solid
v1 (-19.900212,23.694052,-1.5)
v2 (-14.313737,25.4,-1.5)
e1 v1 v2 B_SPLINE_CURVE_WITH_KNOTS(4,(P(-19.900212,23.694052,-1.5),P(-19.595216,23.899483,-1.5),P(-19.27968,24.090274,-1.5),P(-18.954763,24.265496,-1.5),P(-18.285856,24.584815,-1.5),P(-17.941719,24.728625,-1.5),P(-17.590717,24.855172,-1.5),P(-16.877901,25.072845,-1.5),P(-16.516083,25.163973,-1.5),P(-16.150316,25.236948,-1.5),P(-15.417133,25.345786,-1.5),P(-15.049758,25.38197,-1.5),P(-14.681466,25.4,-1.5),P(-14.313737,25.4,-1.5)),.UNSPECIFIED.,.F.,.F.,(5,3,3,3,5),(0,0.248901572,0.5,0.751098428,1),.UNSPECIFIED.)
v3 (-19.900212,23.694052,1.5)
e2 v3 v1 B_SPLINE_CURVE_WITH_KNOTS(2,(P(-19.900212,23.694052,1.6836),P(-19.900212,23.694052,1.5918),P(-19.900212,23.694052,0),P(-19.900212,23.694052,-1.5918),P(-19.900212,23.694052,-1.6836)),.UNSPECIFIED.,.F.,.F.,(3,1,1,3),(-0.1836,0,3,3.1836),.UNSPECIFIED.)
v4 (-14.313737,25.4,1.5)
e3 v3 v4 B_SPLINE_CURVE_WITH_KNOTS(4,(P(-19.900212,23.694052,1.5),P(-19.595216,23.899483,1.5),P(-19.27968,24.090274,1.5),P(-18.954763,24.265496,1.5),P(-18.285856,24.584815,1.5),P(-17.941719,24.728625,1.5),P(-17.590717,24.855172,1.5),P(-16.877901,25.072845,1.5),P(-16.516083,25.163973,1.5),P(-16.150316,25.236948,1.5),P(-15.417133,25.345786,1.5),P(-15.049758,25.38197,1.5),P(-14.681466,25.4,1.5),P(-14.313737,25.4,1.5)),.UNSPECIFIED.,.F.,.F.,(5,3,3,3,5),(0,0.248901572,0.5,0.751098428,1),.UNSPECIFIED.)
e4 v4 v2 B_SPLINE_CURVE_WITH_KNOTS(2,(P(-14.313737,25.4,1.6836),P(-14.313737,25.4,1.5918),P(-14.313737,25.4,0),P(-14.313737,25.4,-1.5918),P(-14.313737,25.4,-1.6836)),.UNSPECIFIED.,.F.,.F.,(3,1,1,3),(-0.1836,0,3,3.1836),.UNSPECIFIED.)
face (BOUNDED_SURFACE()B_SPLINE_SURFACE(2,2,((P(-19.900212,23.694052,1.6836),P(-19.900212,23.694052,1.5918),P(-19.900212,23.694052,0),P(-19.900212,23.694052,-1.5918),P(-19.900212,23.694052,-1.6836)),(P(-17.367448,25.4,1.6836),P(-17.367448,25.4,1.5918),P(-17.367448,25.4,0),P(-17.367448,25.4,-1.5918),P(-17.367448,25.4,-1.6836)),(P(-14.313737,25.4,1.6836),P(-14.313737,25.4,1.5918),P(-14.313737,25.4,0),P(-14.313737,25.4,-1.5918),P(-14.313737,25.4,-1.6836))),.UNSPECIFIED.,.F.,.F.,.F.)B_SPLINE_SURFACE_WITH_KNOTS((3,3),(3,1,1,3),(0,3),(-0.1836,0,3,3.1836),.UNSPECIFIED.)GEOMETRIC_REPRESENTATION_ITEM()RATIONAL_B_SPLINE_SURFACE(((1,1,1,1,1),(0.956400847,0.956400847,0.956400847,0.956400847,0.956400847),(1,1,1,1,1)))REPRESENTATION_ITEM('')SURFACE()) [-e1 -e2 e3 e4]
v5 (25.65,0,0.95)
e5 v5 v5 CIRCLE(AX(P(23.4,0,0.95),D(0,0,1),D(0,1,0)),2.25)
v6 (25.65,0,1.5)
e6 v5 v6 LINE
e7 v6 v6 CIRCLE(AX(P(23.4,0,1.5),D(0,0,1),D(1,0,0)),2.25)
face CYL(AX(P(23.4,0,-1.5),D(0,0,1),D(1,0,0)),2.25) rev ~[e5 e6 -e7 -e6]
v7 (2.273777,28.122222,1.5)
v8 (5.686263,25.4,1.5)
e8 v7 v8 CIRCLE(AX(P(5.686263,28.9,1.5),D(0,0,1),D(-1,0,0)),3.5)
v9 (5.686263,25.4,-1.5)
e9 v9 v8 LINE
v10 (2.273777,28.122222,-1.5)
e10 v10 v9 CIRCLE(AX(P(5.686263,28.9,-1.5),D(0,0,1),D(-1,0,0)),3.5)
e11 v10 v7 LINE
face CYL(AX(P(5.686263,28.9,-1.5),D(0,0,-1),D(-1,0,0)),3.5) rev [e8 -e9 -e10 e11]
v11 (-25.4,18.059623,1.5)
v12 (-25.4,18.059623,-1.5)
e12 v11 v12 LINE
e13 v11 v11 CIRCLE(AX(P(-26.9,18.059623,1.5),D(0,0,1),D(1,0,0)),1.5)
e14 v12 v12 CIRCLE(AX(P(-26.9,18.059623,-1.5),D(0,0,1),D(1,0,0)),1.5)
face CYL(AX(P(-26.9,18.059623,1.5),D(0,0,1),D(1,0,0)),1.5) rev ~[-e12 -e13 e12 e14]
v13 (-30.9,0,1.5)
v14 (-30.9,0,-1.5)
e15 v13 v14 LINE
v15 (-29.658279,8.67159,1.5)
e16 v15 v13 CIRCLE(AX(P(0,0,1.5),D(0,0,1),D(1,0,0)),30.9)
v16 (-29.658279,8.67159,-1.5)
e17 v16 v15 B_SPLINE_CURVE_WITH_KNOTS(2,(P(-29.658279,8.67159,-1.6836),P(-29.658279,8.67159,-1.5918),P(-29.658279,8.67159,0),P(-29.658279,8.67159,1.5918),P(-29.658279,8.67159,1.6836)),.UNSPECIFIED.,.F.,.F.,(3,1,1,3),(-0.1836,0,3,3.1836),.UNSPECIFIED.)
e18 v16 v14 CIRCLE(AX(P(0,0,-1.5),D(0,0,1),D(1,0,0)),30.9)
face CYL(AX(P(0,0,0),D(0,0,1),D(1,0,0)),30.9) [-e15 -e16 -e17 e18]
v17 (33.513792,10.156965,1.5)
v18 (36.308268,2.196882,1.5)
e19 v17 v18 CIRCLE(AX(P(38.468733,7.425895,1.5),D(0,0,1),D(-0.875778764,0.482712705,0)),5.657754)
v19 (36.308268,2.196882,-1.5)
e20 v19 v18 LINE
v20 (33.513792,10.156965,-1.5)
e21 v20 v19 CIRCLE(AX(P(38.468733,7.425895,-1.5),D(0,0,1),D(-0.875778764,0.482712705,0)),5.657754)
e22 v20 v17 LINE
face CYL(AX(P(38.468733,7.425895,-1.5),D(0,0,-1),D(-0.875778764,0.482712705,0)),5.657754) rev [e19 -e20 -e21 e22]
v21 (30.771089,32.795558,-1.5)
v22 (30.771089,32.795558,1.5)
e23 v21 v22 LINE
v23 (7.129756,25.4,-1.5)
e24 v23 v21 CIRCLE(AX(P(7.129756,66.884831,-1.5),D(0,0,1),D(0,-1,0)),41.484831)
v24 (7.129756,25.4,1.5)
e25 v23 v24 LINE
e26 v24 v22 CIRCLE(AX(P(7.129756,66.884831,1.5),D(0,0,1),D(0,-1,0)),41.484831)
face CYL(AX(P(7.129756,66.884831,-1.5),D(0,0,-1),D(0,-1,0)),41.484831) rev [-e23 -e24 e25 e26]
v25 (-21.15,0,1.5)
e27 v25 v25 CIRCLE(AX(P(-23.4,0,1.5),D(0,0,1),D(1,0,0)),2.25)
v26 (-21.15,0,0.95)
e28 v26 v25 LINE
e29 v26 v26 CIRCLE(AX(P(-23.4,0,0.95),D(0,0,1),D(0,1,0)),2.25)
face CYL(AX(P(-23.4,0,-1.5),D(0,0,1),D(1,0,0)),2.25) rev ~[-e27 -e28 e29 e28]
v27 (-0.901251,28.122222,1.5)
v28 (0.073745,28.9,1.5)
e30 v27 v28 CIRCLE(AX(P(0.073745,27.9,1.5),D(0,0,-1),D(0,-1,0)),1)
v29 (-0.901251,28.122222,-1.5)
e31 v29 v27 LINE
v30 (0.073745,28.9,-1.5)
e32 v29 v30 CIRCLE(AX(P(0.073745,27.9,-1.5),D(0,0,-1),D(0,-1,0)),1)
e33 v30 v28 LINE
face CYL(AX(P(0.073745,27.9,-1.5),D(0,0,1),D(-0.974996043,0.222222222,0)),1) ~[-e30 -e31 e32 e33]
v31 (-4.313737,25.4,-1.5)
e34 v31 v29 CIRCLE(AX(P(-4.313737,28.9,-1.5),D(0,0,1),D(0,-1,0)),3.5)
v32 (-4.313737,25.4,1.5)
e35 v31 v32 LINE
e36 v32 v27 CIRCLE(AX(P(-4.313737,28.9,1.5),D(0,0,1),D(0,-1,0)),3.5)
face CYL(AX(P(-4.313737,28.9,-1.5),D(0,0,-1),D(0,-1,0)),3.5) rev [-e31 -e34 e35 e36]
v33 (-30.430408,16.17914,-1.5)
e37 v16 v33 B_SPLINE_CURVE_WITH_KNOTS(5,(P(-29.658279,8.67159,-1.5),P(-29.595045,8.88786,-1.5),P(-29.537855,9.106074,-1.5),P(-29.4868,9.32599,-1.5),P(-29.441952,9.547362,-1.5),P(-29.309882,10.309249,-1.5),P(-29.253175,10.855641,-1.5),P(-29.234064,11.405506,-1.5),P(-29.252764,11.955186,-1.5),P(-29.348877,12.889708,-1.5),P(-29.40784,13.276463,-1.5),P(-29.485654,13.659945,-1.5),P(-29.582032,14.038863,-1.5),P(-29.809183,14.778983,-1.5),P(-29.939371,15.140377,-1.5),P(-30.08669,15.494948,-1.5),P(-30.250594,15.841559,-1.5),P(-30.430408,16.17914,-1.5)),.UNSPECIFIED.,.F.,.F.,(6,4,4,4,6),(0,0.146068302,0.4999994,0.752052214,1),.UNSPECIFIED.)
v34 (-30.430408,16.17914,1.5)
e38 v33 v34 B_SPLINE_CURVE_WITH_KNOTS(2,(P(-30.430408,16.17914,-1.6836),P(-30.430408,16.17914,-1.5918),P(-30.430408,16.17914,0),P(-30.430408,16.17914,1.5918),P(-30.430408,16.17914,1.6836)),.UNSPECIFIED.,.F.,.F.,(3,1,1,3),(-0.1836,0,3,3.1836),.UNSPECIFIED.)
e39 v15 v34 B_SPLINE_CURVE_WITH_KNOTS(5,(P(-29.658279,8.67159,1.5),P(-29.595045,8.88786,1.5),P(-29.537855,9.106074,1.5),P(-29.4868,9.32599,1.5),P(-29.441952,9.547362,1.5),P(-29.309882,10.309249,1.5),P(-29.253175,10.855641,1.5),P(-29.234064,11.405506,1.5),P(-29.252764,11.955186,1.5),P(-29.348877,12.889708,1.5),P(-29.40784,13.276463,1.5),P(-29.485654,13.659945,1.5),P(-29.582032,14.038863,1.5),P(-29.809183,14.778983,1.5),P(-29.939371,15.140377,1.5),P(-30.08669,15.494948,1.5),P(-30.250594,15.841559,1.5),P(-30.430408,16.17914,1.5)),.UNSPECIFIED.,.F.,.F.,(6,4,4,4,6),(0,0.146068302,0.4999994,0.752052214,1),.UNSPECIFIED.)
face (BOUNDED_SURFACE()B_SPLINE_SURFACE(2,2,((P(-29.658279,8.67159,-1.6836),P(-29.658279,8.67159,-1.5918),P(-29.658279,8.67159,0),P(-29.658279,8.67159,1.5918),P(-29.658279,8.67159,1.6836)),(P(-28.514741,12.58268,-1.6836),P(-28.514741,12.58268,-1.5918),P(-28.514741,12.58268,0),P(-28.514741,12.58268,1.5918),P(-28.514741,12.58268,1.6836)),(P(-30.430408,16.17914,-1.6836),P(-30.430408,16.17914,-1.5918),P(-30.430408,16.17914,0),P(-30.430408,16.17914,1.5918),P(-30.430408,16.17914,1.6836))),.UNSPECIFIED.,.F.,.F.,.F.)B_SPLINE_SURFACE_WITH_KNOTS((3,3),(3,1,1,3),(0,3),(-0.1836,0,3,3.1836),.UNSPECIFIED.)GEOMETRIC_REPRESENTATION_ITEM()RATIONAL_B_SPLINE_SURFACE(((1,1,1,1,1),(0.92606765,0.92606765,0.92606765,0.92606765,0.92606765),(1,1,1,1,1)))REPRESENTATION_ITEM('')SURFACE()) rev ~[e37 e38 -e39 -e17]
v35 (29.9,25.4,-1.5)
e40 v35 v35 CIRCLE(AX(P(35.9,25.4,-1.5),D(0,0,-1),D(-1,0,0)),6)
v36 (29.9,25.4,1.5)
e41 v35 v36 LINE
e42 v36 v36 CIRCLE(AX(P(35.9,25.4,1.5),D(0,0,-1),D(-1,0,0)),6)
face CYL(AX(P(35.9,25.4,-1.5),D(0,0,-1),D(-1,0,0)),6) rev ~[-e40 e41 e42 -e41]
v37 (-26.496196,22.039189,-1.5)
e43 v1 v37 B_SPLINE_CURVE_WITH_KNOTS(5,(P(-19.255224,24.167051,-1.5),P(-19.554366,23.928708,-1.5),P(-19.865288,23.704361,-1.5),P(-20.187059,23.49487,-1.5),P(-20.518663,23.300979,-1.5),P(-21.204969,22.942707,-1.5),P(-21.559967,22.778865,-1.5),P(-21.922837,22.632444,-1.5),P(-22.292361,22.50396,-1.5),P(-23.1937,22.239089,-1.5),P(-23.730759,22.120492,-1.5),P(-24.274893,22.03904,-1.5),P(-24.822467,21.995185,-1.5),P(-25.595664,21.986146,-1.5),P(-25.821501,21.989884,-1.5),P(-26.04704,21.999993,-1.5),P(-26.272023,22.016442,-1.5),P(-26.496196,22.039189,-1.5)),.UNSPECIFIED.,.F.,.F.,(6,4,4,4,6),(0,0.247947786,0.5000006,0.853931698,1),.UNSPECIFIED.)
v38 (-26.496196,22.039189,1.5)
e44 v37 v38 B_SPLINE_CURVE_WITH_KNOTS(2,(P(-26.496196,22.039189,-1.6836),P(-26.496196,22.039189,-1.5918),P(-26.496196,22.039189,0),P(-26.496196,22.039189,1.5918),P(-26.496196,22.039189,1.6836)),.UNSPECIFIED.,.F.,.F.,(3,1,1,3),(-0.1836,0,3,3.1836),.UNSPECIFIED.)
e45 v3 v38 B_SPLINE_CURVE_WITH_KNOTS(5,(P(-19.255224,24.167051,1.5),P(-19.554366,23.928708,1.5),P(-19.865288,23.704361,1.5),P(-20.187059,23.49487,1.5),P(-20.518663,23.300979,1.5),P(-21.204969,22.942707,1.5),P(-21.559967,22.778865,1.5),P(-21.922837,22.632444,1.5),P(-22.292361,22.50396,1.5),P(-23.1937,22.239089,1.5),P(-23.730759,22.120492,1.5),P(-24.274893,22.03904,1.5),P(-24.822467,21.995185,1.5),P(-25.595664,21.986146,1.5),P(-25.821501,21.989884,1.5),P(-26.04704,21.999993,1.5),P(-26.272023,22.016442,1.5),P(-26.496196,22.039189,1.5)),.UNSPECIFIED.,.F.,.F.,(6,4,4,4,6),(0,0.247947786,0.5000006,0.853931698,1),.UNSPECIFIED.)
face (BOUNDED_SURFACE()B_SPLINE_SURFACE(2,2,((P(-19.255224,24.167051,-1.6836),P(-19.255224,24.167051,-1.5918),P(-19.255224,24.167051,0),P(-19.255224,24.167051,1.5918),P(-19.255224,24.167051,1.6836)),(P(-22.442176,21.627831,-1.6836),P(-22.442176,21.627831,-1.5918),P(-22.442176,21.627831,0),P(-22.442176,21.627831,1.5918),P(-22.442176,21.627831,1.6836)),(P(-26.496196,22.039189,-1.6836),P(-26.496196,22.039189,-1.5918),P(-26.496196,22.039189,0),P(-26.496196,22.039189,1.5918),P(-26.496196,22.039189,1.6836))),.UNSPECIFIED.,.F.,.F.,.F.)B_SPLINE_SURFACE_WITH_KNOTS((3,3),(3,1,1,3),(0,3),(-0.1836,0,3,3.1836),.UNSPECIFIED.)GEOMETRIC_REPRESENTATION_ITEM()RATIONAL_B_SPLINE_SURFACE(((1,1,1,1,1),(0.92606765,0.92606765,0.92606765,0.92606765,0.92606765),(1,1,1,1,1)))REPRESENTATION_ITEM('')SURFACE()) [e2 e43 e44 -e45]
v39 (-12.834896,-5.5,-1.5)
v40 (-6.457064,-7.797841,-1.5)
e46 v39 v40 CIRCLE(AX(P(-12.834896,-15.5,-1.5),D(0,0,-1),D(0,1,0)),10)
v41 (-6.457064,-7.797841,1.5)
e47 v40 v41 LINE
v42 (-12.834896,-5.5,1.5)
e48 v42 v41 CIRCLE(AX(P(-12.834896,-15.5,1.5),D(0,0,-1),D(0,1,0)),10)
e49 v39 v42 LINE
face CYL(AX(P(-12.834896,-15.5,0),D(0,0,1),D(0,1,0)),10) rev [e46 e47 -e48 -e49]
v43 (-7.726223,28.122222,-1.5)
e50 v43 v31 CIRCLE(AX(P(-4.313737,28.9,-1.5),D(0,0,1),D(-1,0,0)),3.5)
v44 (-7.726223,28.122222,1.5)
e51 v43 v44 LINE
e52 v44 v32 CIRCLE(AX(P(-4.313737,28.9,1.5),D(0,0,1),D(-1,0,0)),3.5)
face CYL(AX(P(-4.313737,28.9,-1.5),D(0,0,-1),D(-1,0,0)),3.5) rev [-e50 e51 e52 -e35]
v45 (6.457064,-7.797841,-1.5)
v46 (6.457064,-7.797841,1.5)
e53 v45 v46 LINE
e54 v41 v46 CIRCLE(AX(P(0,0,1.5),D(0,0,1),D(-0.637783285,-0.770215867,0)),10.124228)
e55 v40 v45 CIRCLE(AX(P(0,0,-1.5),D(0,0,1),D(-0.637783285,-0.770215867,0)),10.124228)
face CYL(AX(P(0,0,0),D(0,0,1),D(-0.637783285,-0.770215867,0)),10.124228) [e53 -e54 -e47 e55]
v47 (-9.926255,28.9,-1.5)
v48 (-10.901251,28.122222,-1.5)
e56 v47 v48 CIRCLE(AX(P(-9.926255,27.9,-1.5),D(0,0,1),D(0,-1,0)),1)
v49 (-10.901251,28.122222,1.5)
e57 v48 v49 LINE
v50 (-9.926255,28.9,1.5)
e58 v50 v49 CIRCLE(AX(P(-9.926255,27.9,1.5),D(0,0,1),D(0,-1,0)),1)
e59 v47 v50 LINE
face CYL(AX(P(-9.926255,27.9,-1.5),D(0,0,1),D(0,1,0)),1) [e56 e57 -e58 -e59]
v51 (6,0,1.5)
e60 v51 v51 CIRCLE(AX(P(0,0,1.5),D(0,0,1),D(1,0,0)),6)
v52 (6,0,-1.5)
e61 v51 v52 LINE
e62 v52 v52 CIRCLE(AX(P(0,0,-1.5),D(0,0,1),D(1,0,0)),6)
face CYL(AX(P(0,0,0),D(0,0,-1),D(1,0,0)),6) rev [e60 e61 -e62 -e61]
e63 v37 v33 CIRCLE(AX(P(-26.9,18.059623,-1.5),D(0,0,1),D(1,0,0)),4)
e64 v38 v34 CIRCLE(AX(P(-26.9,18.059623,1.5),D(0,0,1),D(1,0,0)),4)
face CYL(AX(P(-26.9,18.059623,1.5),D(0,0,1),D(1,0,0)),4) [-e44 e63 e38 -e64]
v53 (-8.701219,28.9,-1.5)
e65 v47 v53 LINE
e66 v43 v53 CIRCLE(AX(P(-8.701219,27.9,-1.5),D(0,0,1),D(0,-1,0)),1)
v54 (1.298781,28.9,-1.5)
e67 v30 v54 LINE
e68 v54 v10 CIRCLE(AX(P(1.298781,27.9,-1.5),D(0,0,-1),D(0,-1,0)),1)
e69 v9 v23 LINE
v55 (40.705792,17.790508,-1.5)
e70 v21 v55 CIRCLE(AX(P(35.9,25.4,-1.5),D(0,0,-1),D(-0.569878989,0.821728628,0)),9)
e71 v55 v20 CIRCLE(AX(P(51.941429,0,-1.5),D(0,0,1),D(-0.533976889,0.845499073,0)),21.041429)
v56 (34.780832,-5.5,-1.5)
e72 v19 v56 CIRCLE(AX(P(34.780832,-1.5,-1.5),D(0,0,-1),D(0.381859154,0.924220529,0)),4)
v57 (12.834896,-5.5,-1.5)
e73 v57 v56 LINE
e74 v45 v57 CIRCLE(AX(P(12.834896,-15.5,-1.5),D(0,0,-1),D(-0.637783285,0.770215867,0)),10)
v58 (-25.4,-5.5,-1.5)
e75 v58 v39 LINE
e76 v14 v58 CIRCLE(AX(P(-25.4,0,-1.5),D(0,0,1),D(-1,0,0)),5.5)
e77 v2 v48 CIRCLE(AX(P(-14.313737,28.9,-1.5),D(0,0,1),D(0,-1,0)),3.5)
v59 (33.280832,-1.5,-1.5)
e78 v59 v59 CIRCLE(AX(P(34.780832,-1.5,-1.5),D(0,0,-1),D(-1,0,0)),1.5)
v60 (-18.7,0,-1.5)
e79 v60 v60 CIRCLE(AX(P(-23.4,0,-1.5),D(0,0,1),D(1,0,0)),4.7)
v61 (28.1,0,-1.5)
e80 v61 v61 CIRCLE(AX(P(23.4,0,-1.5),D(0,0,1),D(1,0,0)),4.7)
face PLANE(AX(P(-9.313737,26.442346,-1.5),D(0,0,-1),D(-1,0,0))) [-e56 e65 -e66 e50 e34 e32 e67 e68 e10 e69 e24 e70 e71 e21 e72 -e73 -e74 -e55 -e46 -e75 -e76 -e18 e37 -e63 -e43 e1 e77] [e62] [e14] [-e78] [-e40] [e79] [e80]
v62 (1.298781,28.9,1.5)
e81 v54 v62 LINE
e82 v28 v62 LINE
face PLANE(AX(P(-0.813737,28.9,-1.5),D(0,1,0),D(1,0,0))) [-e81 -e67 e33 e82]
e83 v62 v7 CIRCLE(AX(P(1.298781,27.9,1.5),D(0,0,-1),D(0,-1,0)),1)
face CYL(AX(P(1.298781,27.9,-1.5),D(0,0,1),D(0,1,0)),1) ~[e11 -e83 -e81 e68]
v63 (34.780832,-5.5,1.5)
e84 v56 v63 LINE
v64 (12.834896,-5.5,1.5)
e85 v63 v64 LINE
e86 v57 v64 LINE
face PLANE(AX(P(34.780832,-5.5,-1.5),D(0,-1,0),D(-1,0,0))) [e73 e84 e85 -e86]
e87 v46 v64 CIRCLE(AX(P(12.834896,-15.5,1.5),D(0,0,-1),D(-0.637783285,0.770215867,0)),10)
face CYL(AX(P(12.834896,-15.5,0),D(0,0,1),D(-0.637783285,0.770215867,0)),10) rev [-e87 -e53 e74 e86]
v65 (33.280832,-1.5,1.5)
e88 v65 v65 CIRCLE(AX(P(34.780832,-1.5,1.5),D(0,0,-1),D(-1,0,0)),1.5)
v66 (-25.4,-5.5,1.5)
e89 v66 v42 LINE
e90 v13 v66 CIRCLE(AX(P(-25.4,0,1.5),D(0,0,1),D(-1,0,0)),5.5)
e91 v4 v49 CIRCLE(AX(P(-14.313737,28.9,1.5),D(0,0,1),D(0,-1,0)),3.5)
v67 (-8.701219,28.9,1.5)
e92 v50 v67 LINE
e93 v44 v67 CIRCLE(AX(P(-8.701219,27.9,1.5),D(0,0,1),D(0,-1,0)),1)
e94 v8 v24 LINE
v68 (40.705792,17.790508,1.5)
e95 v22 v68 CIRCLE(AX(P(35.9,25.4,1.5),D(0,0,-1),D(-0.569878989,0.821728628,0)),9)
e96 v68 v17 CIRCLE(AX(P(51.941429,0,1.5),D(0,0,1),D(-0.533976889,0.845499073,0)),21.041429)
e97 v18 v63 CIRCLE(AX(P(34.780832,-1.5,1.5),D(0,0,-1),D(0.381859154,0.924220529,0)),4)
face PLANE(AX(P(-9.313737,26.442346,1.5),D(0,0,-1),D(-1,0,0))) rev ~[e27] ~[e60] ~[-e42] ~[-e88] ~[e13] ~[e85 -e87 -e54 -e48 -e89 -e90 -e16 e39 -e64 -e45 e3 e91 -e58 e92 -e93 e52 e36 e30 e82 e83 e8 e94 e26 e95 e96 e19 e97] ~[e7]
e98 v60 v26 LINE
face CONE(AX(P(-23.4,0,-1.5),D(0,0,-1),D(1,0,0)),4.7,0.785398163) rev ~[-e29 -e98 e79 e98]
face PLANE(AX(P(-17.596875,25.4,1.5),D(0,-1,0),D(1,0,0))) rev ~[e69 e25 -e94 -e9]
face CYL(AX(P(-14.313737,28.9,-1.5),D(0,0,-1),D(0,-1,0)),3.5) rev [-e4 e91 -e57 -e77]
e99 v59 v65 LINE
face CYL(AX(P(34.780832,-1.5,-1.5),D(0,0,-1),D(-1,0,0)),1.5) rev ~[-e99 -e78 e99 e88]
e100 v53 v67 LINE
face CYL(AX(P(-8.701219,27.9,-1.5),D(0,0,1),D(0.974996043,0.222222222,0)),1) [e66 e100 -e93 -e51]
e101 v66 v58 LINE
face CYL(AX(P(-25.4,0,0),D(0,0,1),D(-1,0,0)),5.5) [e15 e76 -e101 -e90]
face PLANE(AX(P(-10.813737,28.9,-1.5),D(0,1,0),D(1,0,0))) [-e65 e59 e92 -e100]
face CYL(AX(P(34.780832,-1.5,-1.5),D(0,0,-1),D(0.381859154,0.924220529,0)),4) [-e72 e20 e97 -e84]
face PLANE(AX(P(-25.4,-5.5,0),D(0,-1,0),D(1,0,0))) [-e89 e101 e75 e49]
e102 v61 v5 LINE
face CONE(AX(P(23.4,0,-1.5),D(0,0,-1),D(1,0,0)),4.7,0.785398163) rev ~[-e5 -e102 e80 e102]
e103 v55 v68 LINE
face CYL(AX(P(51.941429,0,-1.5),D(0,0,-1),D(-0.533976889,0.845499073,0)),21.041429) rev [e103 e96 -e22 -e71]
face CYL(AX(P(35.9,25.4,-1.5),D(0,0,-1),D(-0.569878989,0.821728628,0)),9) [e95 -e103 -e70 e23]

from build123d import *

# Parameters (mm, degrees)
SKETCH1_R                                           = 6
BOSS_EXTRUDE1_DEPTH                                 = 1.5
SKETCH2_R                                           = 4
SKETCH2_R_2                                         = 1.5
BOSS_EXTRUDE2_DEPTH                                 = 3
FILLET1_R                                           = 10
CSK_FOR_M4_COUNTERSUNK_FLAT_HEAD_SCREW1_D           = 4.5
CSK_FOR_M4_COUNTERSUNK_FLAT_HEAD_SCREW1_DEPTH       = 7.5
CSK_FOR_M4_COUNTERSUNK_FLAT_HEAD_SCREW1_CSINK_D     = 9.4
CSK_FOR_M4_COUNTERSUNK_FLAT_HEAD_SCREW1_CSINK_ANGLE = 90
CSK_FOR_M4_COUNTERSUNK_FLAT_HEAD_SCREW1_TIP         = 1.351936393
CUT_EXTRUDE1_DEPTH                                  = 44.802054894
FILLET2_R                                           = 10
SKETCH7_R                                           = 6
BOSS_EXTRUDE6_DEPTH                                 = 3
SKETCH10_R                                          = 1.5
BOSS_EXTRUDE7_DEPTH                                 = 3
BOSS_EXTRUDE8_DEPTH                                 = 3
FILLET3_R                                           = 1


with BuildPart() as part:
    # Sketch1 → Boss-Extrude1 (new, symmetric)
    with BuildSketch(Plane.XY):
        with BuildLine():
            Line((-25.4, -5.5), (-12.834896467, -5.5))
            ThreePointArc((-12.834896467, -5.5), (-9.445323242, -6.091982496), (-6.457063621, -7.797841329))
            ThreePointArc((-6.457063621, -7.797841329), (0, -10.124228366), (6.457063621, -7.797841329))
            ThreePointArc((6.457063621, -7.797841329), (9.445323242, -6.091982496), (12.834896467, -5.5))
            Line((12.834896467, -5.5), (25.4, -5.5))
            ThreePointArc((25.4, -5.5), (29.289087297, -3.889087297), (30.9, 0))
            ThreePointArc((30.9, 0), (0, 30.9), (-30.9, 0))
            ThreePointArc((-30.9, 0), (-29.289087297, -3.889087297), (-25.4, -5.5))
        make_face()
        Circle(SKETCH1_R, mode=Mode.SUBTRACT)
    extrude(amount=BOSS_EXTRUDE1_DEPTH, both=True)

    # Sketch2 → Boss-Extrude2 (add, through all)
    with BuildSketch(Plane.XY.offset(1.5)):
        with Locations((-26.9, 18.059623473)):
            Circle(SKETCH2_R)
        with Locations((-26.9, 18.059623473)):
            Circle(SKETCH2_R_2, mode=Mode.SUBTRACT)
    extrude(amount=-BOSS_EXTRUDE2_DEPTH)

    # Fillet1
    fillet1_edges = [part.edges().sort_by_distance(p)[0] for p in [
        (-27.493457726, 14.10389245, 0),
        (-23.463459093, 20.106618, 0),
    ]]
    fillet(fillet1_edges, radius=FILLET1_R)

    # CSK for M4 Countersunk Flat Head Screw1
    with Locations(Plane(origin=(0, 0, -1.5), x_dir=(-1, 0, 0), z_dir=(0, 0, -1))):
        with Locations((-23.4, 0), (23.4, 0)):
            CounterSinkHole(CSK_FOR_M4_COUNTERSUNK_FLAT_HEAD_SCREW1_D / 2, CSK_FOR_M4_COUNTERSUNK_FLAT_HEAD_SCREW1_CSINK_D / 2, depth=CSK_FOR_M4_COUNTERSUNK_FLAT_HEAD_SCREW1_DEPTH, counter_sink_angle=CSK_FOR_M4_COUNTERSUNK_FLAT_HEAD_SCREW1_CSINK_ANGLE)
            with Locations((0, 0, -(CSK_FOR_M4_COUNTERSUNK_FLAT_HEAD_SCREW1_DEPTH + CSK_FOR_M4_COUNTERSUNK_FLAT_HEAD_SCREW1_TIP / 2))):  # 118° drill point
                Cone(0, CSK_FOR_M4_COUNTERSUNK_FLAT_HEAD_SCREW1_D / 2, CSK_FOR_M4_COUNTERSUNK_FLAT_HEAD_SCREW1_TIP, mode=Mode.SUBTRACT)

    # Sketch6 → Cut-Extrude1 (cut, through all)
    with BuildSketch(Plane.XY.offset(1.5)):
        with BuildLine():
            Line((-17.596874723, 25.4), (17.596874723, 25.4))
            ThreePointArc((17.596874723, 25.4), (0, 30.9), (-17.596874723, 25.4))
        make_face()
    extrude(amount=-CUT_EXTRUDE1_DEPTH, mode=Mode.SUBTRACT)

    # Fillet2
    fillet2_edges = [part.edges().sort_by_distance(p)[0] for p in [
        (17.596874723, 25.4, 0),
        (-17.596874723, 25.4, 0),
    ]]
    fillet(fillet2_edges, radius=FILLET2_R)

    # Sketch7 → Boss-Extrude6 (add, through all)
    with BuildSketch(Plane(origin=(0, 0, -1.5), x_dir=(-1, 0, 0), z_dir=(0, 0, -1))):
        with BuildLine():
            Line((-14.129755837, 25.4), (-7.129755837, 25.4))
            ThreePointArc((-7.129755837, 25.4), (-19.515300955, 27.292035274), (-30.771089101, 32.795557652))
            ThreePointArc((-30.771089101, 32.795557652), (-43.404263963, 30.368503031), (-40.705792002, 17.790508346))
            ThreePointArc((-40.705792002, 17.790508346), (-33.513792252, 10.156964901), (-30.9, 0))
            ThreePointArc((-30.9, 0), (-28.287130475, 12.435764935), (-20.890404562, 22.768421053))
            ThreePointArc((-20.890404562, 22.768421053), (-17.757137087, 24.718911163), (-14.129755837, 25.4))
        make_face()
        with Locations((-35.9, 25.4)):
            Circle(SKETCH7_R, mode=Mode.SUBTRACT)
    extrude(amount=-BOSS_EXTRUDE6_DEPTH)

    # Sketch10 → Boss-Extrude7 (add, through all)
    with BuildSketch(Plane(origin=(0, 0, -1.5), x_dir=(-1, 0, 0), z_dir=(0, 0, -1))):
        with BuildLine():
            Line((-34.78083152, -5.5), (-25.4, -5.5))
            ThreePointArc((-25.4, -5.5), (-29.289087297, -3.889087297), (-30.9, 0))
            ThreePointArc((-30.9, 0), (-31.563922472, 5.243945221), (-33.513792252, 10.156964901))
            ThreePointArc((-33.513792252, 10.156964901), (-33.13038334, 5.551807562), (-36.308268134, 2.196882117))
            ThreePointArc((-36.308268134, 2.196882117), (-38.704320303, -2.278611434), (-34.78083152, -5.5))
        make_face()
        with Locations((-34.78083152, -1.5)):
            Circle(SKETCH10_R, mode=Mode.SUBTRACT)
    extrude(amount=-BOSS_EXTRUDE7_DEPTH)

    # Sketch12 → Boss-Extrude8 (add, through all)
    with BuildSketch(Plane(origin=(0, 0, -1.5), x_dir=(-1, 0, 0), z_dir=(0, 0, -1))):
        with BuildLine():
            ThreePointArc((7.813736863, 28.9), (6.788610597, 26.425126266), (4.313736863, 25.4))
            Line((4.313736863, 25.4), (14.313736863, 25.4))
            ThreePointArc((14.313736863, 25.4), (11.838863129, 26.425126266), (10.813736863, 28.9))
            Line((10.813736863, 28.9), (7.813736863, 28.9))
        make_face()
        with BuildLine():
            ThreePointArc((4.313736863, 25.4), (1.838863129, 26.425126266), (0.813736863, 28.9))
            Line((0.813736863, 28.9), (-2.186263137, 28.9))
            ThreePointArc((-2.186263137, 28.9), (-3.211389403, 26.425126266), (-5.686263137, 25.4))
            Line((-5.686263137, 25.4), (4.313736863, 25.4))
        make_face()
    extrude(amount=-BOSS_EXTRUDE8_DEPTH)

    # Fillet3
    fillet3_edges = [part.edges().sort_by_distance(p)[0] for p in [
        (-10.813736863, 28.9, 0),
        (-7.813736863, 28.9, 0),
        (2.186263137, 28.9, 0),
        (-0.813736863, 28.9, 0),
    ]]
    fillet(fillet3_edges, radius=FILLET3_R)


solid = part.part
